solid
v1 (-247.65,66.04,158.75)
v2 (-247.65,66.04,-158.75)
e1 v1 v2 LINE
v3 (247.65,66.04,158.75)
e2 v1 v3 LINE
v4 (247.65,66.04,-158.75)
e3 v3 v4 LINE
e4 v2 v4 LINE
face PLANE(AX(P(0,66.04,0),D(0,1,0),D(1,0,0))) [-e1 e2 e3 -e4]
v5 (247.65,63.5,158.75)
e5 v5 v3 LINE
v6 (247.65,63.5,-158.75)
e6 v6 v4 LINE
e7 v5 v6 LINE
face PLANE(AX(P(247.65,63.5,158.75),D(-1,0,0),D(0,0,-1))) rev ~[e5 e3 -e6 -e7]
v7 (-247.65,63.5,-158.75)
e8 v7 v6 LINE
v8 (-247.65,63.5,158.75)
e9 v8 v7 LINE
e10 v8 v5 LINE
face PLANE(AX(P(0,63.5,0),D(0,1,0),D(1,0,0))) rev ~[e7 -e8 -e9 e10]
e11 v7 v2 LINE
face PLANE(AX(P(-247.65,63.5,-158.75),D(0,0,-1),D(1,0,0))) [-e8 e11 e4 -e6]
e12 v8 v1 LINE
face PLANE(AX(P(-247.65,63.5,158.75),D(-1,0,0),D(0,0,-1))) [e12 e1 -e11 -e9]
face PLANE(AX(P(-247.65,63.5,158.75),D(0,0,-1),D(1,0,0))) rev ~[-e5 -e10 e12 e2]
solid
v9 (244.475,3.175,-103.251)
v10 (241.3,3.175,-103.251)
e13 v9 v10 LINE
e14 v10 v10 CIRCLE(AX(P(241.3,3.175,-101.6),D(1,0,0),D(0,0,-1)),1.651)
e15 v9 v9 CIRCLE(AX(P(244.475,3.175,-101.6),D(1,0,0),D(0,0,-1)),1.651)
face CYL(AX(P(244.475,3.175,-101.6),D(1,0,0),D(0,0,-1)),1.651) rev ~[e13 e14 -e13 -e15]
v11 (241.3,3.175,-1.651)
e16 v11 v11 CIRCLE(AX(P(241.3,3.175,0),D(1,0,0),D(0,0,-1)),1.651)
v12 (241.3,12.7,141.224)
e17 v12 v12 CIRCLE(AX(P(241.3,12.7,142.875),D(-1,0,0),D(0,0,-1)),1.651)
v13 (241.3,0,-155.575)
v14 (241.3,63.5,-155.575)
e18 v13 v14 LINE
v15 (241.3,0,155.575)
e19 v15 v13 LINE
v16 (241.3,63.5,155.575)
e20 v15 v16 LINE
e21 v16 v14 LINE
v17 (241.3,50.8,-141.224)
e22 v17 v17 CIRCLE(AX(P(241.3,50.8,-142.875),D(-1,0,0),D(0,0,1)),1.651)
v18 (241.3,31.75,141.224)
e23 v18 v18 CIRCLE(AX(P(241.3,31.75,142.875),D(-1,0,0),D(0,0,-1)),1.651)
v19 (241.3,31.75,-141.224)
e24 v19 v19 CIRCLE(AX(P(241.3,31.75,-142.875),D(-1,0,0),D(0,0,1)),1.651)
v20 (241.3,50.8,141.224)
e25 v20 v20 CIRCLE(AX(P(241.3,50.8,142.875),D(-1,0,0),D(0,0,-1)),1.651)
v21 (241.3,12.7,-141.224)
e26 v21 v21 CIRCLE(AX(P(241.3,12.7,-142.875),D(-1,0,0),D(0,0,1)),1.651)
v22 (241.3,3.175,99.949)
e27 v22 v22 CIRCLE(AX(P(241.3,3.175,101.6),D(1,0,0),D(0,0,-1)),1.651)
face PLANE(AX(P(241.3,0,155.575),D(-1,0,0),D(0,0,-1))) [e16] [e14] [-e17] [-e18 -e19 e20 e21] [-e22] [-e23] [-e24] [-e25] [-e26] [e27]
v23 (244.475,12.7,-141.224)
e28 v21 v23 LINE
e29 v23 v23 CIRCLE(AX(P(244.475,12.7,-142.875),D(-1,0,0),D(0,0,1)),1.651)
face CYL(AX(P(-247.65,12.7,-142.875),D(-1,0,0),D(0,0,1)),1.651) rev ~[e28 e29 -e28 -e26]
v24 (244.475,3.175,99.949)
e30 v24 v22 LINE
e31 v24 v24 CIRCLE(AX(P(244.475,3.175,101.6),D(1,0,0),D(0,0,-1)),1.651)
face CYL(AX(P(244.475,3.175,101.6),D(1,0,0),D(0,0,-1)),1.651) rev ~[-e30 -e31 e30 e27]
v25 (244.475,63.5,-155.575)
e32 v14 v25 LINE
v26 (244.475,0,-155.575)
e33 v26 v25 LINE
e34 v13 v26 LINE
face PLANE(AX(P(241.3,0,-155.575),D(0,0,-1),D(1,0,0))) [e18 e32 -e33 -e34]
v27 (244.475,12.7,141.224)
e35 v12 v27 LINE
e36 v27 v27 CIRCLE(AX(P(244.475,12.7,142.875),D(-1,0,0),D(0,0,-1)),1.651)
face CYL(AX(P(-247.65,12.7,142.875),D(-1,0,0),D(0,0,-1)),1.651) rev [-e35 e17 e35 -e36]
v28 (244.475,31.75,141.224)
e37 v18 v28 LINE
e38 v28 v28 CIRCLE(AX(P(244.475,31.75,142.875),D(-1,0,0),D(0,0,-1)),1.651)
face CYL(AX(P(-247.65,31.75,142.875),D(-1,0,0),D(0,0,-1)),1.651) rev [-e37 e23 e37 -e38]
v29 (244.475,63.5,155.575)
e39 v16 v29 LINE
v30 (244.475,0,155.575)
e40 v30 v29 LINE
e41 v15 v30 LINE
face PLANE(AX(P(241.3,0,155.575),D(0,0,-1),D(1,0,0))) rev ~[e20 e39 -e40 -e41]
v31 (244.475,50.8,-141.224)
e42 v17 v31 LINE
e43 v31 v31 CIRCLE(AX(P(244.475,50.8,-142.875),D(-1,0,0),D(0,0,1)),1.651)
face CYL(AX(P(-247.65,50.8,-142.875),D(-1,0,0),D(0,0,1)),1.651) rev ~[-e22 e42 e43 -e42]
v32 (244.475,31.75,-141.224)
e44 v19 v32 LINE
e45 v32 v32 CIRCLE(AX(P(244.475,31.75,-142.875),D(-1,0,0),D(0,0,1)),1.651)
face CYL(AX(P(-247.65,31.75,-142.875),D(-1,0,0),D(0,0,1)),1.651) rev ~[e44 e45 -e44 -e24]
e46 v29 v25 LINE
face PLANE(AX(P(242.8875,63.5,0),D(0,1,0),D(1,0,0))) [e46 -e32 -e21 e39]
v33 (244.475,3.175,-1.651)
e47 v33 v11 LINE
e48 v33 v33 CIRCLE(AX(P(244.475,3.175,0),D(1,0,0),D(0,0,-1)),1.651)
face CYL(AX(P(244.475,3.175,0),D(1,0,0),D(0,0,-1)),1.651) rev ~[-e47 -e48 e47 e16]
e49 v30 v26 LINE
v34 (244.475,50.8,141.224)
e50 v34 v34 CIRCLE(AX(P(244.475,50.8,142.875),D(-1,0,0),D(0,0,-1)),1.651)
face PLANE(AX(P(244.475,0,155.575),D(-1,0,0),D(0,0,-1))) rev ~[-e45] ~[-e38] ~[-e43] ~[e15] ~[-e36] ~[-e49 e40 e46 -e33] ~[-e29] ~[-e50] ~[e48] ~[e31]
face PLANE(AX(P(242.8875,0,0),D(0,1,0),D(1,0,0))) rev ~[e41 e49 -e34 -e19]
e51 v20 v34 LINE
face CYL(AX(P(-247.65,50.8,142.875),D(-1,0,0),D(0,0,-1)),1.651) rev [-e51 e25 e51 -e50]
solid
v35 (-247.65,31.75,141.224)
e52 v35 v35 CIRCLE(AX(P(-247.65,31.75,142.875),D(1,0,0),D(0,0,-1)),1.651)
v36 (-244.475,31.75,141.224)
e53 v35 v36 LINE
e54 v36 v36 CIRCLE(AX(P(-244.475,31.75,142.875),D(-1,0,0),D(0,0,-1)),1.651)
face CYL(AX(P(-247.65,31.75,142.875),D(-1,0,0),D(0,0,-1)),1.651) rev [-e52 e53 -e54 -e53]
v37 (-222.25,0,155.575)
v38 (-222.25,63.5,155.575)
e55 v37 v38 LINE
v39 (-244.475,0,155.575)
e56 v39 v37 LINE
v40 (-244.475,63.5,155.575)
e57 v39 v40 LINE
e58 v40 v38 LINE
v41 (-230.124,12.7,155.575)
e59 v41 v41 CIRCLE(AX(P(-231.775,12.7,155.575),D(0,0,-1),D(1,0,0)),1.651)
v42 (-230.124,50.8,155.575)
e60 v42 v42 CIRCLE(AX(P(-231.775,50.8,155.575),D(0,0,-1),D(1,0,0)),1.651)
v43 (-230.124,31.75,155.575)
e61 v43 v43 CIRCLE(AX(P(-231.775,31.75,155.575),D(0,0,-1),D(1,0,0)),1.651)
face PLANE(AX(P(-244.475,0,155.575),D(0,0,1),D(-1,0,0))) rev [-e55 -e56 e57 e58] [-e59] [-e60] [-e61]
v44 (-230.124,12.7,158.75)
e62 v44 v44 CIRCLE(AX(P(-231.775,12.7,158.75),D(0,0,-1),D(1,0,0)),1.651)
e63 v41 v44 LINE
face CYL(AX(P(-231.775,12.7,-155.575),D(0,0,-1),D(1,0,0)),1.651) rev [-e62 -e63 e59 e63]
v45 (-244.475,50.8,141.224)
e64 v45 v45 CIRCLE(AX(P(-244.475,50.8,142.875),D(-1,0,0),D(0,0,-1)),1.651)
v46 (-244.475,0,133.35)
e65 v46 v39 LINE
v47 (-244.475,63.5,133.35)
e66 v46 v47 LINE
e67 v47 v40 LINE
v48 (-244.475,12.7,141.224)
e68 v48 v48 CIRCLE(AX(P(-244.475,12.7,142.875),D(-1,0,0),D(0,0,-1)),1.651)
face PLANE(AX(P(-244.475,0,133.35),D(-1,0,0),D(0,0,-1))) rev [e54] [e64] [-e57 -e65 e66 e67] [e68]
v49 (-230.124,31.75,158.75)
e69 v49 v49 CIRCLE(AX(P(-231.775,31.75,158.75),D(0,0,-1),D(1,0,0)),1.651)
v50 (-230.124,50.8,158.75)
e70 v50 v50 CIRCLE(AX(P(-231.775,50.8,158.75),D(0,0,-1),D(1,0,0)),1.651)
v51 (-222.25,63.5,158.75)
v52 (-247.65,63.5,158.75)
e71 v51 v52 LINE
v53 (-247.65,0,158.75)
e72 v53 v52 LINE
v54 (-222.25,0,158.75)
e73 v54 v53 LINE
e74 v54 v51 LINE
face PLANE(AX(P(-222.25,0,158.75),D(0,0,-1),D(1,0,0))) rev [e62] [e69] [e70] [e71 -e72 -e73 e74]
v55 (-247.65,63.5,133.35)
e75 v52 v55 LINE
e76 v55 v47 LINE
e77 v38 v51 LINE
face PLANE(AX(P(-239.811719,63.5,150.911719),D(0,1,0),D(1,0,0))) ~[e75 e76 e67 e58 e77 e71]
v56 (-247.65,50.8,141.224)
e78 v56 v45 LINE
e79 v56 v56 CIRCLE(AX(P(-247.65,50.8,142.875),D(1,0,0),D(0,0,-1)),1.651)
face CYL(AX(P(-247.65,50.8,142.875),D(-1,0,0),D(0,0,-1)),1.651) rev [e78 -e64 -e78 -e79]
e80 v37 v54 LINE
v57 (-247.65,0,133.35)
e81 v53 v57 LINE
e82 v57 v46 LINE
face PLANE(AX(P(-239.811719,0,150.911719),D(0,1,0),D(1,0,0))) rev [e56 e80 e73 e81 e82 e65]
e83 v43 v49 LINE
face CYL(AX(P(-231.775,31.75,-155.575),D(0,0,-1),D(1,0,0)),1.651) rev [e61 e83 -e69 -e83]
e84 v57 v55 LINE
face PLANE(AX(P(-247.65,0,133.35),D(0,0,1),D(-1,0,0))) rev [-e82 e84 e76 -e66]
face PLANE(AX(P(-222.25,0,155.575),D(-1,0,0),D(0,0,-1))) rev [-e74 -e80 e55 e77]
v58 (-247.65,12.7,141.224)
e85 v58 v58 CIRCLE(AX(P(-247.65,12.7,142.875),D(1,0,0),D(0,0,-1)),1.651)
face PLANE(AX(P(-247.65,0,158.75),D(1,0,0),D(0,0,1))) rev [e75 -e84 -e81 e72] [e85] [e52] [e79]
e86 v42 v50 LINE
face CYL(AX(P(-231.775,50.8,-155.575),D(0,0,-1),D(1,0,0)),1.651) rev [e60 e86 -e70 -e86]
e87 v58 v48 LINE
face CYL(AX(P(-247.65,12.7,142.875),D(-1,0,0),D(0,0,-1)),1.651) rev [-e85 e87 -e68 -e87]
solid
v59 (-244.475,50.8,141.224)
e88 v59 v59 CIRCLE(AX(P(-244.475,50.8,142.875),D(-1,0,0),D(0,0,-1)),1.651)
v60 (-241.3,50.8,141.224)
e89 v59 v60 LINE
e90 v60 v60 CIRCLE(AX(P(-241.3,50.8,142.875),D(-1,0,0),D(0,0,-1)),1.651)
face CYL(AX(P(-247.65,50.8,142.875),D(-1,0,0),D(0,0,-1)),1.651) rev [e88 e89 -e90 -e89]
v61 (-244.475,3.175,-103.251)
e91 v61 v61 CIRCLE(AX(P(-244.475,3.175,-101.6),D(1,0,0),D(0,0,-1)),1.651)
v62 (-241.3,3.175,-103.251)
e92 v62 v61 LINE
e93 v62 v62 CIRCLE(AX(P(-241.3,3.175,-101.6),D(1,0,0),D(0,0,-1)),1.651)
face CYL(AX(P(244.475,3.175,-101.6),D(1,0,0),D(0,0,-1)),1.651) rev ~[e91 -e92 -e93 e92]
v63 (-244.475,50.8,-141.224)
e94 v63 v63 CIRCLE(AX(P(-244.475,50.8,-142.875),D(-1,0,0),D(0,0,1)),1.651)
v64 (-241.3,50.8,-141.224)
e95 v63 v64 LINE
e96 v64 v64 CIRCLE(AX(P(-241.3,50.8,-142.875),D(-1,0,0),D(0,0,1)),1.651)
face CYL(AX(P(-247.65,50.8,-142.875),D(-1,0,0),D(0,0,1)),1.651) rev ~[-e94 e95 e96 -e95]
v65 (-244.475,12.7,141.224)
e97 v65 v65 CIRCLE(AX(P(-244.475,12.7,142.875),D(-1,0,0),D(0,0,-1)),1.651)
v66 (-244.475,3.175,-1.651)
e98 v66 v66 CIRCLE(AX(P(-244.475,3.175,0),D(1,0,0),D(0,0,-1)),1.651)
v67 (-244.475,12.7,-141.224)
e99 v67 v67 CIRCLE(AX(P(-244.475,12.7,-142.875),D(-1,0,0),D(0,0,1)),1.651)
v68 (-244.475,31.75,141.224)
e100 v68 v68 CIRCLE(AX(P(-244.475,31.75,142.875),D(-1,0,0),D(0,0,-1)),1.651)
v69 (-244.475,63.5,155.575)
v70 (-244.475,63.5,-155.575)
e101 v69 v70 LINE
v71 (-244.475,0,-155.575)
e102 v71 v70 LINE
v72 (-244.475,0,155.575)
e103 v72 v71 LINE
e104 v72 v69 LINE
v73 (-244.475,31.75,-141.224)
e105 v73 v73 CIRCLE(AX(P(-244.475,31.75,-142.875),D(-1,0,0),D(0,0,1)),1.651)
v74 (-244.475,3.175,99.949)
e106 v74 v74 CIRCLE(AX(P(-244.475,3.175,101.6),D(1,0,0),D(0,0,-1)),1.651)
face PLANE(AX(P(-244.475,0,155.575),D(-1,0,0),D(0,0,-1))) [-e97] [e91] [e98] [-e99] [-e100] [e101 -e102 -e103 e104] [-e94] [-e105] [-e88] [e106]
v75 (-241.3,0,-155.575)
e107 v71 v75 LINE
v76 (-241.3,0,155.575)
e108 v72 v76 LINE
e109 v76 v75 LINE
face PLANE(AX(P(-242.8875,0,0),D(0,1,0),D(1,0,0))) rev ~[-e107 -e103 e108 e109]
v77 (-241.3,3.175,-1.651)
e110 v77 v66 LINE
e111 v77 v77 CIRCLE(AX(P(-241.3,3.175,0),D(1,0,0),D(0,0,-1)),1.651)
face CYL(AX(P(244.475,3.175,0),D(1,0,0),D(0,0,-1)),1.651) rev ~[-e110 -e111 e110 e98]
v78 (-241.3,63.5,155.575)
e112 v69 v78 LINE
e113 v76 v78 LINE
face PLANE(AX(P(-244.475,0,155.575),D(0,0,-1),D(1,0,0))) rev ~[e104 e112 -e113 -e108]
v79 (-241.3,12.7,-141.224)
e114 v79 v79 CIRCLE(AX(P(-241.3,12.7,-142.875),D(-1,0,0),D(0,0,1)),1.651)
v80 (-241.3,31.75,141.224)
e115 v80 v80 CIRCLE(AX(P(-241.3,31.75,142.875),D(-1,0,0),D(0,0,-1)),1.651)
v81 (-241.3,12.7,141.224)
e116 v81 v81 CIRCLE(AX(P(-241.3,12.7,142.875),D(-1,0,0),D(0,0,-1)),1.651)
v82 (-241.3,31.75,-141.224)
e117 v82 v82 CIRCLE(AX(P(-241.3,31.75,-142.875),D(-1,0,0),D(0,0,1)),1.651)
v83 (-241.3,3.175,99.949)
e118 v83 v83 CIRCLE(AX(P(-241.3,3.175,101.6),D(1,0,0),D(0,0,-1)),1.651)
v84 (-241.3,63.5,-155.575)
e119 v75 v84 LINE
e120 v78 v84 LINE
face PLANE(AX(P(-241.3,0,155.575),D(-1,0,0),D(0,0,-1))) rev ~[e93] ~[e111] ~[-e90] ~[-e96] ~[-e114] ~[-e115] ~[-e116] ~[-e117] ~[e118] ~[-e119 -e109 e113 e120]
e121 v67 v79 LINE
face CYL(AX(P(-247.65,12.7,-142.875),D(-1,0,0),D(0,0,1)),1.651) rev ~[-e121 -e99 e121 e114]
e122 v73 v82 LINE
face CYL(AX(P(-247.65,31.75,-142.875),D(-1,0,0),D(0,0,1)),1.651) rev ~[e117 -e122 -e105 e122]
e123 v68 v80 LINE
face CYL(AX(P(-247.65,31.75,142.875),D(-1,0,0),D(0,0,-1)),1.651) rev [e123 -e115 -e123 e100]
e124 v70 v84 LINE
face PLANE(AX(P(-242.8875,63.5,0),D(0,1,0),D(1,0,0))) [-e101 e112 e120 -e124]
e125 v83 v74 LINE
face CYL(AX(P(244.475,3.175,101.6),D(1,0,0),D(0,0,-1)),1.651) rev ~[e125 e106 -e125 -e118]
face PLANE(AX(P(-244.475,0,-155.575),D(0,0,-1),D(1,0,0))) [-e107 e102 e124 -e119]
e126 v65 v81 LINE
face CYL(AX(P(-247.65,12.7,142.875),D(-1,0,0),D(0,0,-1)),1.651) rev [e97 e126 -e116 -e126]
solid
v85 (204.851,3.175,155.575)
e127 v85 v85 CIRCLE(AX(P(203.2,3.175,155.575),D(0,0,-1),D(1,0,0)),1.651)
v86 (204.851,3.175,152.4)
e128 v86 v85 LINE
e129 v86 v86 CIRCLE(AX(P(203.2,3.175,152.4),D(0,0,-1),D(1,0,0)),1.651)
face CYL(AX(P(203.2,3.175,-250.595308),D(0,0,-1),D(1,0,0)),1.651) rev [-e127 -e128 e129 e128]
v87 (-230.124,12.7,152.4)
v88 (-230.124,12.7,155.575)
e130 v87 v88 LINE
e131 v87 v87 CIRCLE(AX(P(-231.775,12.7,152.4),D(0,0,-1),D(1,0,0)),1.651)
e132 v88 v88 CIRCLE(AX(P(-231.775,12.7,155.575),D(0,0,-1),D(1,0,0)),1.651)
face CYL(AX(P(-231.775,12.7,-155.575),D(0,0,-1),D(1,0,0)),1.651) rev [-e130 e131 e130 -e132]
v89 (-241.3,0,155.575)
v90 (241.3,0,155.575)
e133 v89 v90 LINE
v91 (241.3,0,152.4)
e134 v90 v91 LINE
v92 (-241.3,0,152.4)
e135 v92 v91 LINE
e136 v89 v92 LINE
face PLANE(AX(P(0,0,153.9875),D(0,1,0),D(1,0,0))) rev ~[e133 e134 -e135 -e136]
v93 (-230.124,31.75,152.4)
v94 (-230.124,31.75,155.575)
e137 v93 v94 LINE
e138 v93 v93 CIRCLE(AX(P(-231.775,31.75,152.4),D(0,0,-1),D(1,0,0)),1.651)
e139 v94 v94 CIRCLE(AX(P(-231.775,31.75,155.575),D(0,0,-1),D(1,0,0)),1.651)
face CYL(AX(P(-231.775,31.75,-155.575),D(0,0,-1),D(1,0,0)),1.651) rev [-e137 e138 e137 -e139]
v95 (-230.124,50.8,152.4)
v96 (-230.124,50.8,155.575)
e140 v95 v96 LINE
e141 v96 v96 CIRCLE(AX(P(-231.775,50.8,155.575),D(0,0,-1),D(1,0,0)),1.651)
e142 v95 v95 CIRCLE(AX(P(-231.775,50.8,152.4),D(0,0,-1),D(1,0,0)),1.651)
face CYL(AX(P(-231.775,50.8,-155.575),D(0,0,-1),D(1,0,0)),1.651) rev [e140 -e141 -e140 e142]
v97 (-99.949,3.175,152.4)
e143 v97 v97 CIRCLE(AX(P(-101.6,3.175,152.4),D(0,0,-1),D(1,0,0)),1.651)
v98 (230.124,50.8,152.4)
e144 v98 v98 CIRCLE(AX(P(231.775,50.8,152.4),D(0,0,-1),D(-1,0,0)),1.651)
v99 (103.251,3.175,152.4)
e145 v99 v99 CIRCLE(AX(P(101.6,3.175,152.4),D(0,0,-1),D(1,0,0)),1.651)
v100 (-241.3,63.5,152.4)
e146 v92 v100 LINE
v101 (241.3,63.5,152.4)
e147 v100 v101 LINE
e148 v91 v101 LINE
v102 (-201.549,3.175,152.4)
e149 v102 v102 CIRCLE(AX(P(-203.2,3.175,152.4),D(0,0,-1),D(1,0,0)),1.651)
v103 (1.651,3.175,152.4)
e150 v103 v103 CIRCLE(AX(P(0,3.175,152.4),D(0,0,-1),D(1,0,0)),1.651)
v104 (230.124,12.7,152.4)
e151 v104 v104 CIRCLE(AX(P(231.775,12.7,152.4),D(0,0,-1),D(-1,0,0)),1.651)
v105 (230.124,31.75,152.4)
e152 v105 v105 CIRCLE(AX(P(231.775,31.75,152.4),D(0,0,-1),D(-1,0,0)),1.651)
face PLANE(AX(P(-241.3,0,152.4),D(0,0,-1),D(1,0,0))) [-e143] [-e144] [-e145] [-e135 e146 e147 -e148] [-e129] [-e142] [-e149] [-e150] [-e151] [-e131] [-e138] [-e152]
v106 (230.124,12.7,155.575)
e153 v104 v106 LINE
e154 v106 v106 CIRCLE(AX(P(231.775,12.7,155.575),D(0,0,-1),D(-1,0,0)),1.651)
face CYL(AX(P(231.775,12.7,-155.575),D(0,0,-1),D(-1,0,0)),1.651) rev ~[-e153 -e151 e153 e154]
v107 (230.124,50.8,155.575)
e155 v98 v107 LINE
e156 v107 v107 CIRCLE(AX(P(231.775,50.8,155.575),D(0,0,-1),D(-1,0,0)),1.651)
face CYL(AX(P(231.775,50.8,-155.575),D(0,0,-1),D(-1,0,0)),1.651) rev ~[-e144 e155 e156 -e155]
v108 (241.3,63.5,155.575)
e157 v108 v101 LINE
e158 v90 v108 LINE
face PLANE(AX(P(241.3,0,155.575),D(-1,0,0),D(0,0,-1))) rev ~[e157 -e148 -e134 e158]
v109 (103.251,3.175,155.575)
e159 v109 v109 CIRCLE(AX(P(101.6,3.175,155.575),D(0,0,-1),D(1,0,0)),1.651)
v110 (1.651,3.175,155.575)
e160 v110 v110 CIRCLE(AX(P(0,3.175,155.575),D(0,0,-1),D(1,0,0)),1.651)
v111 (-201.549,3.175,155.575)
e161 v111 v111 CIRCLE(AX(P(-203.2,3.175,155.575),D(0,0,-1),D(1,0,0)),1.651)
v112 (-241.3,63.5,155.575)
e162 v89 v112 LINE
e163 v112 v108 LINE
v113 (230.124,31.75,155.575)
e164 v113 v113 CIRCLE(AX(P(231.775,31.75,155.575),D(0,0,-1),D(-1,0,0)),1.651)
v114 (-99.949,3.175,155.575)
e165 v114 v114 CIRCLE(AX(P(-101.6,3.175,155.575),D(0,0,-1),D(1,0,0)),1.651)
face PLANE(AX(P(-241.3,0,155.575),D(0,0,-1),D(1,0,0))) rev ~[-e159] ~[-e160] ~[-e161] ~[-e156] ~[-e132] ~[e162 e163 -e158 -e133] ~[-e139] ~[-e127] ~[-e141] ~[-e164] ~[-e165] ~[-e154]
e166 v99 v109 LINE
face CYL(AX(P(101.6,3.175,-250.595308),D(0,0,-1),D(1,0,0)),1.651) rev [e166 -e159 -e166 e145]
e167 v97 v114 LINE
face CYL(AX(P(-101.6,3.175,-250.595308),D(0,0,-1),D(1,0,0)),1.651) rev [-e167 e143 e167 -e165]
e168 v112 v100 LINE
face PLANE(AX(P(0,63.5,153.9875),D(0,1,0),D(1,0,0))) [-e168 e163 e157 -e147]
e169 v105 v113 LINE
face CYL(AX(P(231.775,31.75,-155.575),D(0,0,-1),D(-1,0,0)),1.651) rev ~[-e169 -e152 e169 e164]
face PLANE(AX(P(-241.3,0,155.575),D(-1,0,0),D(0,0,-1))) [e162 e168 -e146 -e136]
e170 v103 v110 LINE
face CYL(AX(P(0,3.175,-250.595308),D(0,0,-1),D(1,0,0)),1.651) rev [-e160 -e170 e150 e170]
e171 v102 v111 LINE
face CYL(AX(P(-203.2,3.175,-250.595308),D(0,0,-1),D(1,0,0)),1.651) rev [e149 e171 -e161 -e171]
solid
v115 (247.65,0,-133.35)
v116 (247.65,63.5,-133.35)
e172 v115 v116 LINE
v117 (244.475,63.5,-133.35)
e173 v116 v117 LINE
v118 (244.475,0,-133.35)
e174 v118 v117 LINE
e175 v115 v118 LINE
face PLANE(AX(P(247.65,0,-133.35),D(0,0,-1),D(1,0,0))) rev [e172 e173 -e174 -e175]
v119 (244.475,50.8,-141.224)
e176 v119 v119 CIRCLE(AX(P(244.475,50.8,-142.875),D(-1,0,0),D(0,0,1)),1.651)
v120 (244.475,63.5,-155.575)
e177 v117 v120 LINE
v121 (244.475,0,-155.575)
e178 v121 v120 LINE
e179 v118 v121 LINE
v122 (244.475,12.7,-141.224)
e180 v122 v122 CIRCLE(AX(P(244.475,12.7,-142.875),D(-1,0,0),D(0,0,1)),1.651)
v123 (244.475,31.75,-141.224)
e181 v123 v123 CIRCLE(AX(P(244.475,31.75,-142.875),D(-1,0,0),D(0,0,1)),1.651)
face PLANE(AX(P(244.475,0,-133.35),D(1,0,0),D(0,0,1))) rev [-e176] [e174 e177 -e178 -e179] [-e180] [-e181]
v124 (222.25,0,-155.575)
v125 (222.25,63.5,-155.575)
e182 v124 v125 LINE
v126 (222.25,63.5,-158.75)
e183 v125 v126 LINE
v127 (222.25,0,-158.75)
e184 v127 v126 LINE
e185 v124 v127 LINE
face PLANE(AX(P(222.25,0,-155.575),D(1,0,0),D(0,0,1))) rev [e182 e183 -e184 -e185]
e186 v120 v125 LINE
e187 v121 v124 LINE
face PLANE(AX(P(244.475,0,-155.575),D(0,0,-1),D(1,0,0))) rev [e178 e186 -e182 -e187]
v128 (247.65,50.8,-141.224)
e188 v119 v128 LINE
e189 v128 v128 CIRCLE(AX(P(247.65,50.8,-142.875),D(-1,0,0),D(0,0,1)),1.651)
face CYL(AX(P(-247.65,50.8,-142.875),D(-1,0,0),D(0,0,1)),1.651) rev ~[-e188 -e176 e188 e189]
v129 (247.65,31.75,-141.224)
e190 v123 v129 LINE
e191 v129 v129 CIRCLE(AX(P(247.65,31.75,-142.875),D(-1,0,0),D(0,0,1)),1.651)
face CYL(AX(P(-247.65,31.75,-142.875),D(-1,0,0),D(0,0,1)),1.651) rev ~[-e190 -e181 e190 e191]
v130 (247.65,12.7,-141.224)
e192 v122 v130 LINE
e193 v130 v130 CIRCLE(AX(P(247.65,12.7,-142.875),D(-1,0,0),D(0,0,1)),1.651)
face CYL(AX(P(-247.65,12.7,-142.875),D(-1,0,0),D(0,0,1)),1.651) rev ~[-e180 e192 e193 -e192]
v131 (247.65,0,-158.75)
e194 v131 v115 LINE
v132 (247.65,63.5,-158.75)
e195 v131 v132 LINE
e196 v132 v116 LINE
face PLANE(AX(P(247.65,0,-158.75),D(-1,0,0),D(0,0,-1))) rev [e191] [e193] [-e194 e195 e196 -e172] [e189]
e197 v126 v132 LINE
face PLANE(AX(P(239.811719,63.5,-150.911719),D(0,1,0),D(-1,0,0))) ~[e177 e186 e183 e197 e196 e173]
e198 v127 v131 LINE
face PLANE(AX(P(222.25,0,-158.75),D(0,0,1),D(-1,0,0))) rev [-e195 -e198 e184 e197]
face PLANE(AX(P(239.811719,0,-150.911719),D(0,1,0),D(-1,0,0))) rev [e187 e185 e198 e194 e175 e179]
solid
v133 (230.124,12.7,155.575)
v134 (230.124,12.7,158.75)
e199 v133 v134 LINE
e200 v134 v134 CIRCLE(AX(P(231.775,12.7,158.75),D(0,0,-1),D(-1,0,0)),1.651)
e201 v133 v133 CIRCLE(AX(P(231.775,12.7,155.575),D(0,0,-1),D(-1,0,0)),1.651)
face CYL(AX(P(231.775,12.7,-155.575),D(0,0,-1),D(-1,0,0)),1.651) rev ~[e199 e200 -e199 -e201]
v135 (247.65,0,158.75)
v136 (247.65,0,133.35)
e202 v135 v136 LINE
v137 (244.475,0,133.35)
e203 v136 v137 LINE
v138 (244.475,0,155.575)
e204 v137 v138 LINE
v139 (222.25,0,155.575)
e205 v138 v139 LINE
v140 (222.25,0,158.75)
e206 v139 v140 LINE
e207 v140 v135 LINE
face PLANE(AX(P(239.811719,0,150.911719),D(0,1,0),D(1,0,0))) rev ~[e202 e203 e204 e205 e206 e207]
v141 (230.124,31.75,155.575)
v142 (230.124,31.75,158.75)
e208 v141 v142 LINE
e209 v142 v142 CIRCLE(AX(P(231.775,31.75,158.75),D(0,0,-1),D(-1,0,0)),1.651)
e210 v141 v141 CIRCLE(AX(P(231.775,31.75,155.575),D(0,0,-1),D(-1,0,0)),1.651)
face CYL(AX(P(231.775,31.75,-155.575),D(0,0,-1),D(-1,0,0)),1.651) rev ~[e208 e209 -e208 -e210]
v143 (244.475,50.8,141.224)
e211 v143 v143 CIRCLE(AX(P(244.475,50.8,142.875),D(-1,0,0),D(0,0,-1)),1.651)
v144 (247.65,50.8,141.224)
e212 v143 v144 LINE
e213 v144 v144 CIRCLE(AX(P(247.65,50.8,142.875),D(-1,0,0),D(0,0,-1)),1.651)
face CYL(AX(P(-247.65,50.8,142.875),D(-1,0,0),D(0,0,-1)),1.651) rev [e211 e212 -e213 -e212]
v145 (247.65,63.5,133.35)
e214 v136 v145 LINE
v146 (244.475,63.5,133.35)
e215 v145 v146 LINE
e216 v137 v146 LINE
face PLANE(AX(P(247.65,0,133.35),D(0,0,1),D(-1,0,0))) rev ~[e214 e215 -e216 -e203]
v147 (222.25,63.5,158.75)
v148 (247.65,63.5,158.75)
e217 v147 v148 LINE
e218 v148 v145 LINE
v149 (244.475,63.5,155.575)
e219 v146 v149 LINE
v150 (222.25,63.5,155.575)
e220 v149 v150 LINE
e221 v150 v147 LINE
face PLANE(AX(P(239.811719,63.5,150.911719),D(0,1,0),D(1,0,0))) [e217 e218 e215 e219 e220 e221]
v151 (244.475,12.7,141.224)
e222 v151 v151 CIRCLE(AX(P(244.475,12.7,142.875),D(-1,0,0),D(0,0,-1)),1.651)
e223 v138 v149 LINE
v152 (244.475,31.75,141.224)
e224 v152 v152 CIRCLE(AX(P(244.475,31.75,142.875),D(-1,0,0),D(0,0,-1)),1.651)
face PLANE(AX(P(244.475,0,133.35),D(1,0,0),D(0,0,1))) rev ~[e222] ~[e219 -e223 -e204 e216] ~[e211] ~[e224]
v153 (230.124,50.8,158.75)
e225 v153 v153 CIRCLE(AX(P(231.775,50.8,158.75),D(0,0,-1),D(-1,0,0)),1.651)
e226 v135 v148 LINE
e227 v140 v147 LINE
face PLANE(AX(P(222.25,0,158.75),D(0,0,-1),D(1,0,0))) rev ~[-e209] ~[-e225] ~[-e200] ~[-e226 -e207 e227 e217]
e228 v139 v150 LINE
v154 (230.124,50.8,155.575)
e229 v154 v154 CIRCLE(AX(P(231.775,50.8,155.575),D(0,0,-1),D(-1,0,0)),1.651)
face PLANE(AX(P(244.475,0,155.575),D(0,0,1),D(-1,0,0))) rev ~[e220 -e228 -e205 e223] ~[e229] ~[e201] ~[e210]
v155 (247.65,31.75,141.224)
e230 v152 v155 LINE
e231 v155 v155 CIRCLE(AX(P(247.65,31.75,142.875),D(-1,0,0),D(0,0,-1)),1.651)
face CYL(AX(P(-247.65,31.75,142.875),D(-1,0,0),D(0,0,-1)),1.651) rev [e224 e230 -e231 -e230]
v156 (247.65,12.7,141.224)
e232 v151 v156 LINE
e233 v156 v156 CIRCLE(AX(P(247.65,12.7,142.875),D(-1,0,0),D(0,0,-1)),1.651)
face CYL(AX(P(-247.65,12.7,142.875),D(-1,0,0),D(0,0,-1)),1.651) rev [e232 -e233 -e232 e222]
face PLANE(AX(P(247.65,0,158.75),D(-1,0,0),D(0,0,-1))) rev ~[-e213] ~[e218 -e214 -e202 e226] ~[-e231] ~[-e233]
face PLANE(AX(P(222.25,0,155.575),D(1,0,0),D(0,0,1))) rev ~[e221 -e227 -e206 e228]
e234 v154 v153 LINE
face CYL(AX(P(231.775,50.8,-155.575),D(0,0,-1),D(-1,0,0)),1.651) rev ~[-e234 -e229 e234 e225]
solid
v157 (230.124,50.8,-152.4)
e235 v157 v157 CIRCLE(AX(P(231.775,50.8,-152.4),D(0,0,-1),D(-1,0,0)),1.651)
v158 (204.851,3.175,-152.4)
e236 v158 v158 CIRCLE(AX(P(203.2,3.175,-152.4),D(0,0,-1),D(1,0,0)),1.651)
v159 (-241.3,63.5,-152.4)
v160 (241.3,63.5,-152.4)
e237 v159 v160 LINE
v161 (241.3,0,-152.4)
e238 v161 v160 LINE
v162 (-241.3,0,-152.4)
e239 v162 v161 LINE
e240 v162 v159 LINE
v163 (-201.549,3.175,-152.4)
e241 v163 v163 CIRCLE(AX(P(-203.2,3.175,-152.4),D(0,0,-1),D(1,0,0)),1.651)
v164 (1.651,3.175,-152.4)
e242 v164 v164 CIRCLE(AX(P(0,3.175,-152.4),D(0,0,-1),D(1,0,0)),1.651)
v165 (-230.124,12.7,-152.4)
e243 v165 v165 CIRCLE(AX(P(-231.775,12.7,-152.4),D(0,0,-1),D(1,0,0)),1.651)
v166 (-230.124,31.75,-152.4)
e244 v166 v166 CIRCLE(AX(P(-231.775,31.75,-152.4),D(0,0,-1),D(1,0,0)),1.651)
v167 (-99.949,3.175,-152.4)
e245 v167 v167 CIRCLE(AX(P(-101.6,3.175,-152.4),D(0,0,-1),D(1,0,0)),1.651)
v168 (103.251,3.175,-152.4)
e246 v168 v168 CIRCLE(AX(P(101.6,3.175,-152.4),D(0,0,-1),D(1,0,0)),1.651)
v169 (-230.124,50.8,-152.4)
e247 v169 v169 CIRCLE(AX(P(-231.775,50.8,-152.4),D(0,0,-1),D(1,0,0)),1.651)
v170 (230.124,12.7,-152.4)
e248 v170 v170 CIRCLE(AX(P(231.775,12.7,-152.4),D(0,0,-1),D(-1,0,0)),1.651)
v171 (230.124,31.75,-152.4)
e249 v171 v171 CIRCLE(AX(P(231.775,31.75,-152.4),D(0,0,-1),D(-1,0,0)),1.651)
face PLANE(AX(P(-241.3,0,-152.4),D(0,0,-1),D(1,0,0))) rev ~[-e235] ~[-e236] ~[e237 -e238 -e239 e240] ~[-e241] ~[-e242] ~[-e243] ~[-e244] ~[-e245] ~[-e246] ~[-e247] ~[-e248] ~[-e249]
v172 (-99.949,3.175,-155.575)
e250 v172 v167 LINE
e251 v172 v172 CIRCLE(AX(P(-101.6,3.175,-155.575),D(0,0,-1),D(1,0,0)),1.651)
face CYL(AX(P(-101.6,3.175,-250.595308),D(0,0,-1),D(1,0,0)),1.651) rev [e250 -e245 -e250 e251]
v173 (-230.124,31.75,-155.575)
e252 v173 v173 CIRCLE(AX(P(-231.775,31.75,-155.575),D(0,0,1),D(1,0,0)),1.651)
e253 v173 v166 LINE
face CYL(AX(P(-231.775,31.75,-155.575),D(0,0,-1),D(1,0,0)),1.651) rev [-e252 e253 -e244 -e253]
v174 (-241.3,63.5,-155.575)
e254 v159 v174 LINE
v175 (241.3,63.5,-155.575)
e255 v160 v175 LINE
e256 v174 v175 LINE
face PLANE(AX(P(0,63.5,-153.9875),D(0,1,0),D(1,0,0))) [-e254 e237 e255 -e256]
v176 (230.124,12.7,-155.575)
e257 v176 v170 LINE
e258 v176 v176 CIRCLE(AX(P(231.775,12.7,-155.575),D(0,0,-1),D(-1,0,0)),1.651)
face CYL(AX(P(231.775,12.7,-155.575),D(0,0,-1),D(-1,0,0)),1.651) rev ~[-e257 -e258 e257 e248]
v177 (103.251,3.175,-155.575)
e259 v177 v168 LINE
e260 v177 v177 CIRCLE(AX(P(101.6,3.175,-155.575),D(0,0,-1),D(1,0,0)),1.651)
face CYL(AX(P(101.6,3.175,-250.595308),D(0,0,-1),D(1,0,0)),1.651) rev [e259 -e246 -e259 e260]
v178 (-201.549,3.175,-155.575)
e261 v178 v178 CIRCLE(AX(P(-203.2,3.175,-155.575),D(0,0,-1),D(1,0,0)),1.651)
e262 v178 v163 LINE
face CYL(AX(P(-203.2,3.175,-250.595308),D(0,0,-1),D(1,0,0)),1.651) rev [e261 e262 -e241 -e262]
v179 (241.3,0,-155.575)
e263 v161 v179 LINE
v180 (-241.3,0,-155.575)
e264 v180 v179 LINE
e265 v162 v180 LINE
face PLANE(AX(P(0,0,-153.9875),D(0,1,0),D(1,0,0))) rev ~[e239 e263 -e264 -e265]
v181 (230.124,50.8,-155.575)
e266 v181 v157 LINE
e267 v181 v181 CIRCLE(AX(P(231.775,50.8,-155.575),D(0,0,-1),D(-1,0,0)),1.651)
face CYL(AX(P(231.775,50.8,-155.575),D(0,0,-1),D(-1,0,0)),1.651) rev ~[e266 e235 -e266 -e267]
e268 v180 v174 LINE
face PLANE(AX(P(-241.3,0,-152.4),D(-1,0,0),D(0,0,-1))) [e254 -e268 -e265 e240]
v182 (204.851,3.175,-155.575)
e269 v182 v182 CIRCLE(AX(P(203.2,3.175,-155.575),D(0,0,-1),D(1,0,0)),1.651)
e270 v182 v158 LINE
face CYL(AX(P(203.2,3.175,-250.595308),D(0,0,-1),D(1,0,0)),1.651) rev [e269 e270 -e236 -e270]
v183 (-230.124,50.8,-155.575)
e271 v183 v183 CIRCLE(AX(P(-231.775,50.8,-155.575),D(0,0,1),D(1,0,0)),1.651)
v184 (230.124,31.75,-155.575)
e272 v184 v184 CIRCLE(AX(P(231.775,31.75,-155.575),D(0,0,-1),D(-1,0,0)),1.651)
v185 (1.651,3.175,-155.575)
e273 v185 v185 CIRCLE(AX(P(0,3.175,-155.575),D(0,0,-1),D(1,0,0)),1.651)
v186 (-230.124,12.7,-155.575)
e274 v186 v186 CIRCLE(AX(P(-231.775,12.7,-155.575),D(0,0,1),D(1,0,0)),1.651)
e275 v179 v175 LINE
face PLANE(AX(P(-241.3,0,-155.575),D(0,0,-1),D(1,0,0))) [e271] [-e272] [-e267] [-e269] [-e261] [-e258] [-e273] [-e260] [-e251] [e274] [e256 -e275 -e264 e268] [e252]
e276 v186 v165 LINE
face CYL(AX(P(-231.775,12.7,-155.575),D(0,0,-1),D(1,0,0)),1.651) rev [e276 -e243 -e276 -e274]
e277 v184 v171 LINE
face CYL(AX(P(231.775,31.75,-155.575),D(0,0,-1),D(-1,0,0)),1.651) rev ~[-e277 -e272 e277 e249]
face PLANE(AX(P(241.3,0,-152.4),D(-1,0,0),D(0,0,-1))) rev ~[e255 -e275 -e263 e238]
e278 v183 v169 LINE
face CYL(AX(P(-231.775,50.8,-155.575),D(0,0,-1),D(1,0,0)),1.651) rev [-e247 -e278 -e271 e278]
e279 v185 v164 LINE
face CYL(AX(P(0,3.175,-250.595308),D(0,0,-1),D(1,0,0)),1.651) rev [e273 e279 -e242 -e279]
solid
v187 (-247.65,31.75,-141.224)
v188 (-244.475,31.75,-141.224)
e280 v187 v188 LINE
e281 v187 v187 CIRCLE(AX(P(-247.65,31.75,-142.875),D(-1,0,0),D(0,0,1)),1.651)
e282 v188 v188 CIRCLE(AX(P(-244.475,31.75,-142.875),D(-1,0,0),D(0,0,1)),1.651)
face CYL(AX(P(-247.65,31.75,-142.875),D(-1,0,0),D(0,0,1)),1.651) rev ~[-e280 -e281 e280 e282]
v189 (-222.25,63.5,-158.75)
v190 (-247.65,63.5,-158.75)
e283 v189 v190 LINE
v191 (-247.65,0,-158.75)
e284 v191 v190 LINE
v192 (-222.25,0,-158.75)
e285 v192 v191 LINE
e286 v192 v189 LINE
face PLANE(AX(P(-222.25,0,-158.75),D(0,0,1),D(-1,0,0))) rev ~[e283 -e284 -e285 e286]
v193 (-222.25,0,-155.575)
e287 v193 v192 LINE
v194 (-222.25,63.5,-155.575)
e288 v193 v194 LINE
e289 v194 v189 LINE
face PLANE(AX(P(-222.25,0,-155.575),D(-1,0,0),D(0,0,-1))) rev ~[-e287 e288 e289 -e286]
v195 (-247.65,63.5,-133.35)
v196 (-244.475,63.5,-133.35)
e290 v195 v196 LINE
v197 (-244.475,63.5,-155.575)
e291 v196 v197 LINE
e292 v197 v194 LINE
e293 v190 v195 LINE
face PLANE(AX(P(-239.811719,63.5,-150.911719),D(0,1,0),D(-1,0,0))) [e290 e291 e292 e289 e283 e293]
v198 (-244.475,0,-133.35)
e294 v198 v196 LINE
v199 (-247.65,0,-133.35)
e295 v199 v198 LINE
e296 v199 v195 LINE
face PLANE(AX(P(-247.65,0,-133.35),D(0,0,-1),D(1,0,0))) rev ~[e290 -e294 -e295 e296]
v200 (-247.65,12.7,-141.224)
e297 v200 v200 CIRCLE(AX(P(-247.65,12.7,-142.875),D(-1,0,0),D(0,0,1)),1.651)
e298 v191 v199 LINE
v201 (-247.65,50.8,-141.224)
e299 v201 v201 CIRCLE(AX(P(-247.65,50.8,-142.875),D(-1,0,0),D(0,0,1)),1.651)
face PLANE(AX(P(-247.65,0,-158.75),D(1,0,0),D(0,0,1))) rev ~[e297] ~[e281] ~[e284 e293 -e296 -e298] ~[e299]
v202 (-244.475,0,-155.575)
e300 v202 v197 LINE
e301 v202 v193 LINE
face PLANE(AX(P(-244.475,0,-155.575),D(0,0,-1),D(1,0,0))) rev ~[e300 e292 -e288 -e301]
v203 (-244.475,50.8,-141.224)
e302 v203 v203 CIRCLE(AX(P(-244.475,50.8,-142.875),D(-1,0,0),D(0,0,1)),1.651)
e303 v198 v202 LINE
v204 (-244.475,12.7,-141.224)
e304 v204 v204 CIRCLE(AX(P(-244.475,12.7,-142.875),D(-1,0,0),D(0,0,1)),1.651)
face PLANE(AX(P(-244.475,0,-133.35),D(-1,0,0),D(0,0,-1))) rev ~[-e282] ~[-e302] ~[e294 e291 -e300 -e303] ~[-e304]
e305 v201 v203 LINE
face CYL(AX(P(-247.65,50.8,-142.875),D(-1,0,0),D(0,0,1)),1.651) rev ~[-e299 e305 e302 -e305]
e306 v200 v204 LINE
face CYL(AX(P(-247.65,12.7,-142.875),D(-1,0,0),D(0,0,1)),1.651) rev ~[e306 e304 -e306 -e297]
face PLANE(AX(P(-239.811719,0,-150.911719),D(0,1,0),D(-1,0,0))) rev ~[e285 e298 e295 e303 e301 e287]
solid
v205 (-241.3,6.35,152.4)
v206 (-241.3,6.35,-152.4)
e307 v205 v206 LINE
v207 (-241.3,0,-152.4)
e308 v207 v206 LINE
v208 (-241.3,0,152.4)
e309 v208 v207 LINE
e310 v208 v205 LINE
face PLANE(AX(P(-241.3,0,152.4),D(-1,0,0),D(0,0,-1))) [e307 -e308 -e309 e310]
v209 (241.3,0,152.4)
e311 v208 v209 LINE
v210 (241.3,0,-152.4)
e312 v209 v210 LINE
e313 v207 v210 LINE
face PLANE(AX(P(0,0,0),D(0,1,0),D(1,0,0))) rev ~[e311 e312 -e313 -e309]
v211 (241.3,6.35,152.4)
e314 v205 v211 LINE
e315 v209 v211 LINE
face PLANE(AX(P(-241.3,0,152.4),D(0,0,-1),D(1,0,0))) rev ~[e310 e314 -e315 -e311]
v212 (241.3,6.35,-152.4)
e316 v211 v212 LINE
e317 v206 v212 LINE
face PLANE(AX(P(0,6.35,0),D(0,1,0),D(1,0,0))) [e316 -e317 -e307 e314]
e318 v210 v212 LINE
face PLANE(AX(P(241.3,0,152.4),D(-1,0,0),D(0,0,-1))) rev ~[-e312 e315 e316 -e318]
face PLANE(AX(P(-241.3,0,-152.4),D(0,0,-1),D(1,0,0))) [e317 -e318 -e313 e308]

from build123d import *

# Parameters (mm, degrees)
SKETCH1_W                  = 482.6
SKETCH1_H                  = 304.8
BOSS_EXTRUDE1_DEPTH        = 6.35
BOSS_EXTRUDE2_DEPTH        = 57.15
BOSS_EXTRUDE2_DEPTH_BACK   = 6.35
SKETCH2_W                  = 482.6
SKETCH2_H                  = 3.175
BOSS_EXTRUDE2_2_DEPTH      = 57.15
BOSS_EXTRUDE2_2_DEPTH_BACK = 6.35
BOSS_EXTRUDE3_START        = -6.35
SKETCH3_W                  = 3.175
SKETCH3_H                  = 311.15
BOSS_EXTRUDE3_DEPTH        = 63.5
BOSS_EXTRUDE3_2_DEPTH      = 63.5
BOSS_EXTRUDE4_DEPTH        = 63.5
SKETCH5_R                  = 1.651
CUT_EXTRUDE1_DEPTH         = 406.170307556
SKETCH6_R                  = 1.651
CUT_EXTRUDE2_DEPTH         = 524.980822645
CUT_EXTRUDE3_DEPTH         = 406.170307556
CUT_EXTRUDE3_DEPTH_BACK    = 406.170307556
SKETCH7_R                  = 1.651
SKETCH8_R                  = 1.651
CUT_EXTRUDE4_DEPTH         = 521.980640835
SKETCH9_W                  = 495.3
SKETCH9_H                  = 317.5
BOSS_EXTRUDE5_DEPTH        = 2.54


with BuildPart() as part:
    # Sketch1 → Boss-Extrude1 (new body)
    with BuildSketch(Plane(origin=(0, 0, 0), x_dir=(1, 0, 0), z_dir=(0, 1, 0))):
        Rectangle(SKETCH1_W, SKETCH1_H)
    extrude(amount=BOSS_EXTRUDE1_DEPTH)


with BuildPart() as body_2:
    # Sketch2 → Boss-Extrude2 (new, two sides: drawn at the far end of the back side and taken through both)
    with BuildSketch(Plane(origin=(0, 6.35, 0), x_dir=(1, 0, 0), z_dir=(0, 1, 0)).offset(-BOSS_EXTRUDE2_DEPTH_BACK)):
        with Locations((0, 153.9875)):
            Rectangle(SKETCH2_W, SKETCH2_H)
    extrude(amount=BOSS_EXTRUDE2_DEPTH + BOSS_EXTRUDE2_DEPTH_BACK)


with BuildPart() as body_3:
    # Sketch2 → Boss-Extrude2 2 (new, two sides: drawn at the far end of the back side and taken through both)
    with BuildSketch(Plane(origin=(0, 6.35, 0), x_dir=(1, 0, 0), z_dir=(0, 1, 0)).offset(-BOSS_EXTRUDE2_2_DEPTH_BACK)):
        with Locations((0, -153.9875)):
            Rectangle(SKETCH2_W, SKETCH2_H)
    extrude(amount=BOSS_EXTRUDE2_2_DEPTH + BOSS_EXTRUDE2_2_DEPTH_BACK)


with BuildPart() as body_4:
    # Sketch3 → Boss-Extrude3 (new body)
    with BuildSketch(Plane(origin=(0, 6.35, 0), x_dir=(1, 0, 0), z_dir=(0, 1, 0)).offset(BOSS_EXTRUDE3_START)):
        with Locations((-242.8875, 0)):
            Rectangle(SKETCH3_W, SKETCH3_H)
    extrude(amount=BOSS_EXTRUDE3_DEPTH)


with BuildPart() as body_5:
    # Sketch3 → Boss-Extrude3 2 (new body)
    with BuildSketch(Plane(origin=(0, 6.35, 0), x_dir=(1, 0, 0), z_dir=(0, 1, 0)).offset(BOSS_EXTRUDE3_START)):
        with Locations((242.8875, 0)):
            Rectangle(SKETCH3_W, SKETCH3_H)
    extrude(amount=BOSS_EXTRUDE3_2_DEPTH)


with BuildPart() as body_6:
    # Sketch4 → Boss-Extrude4 (new body)
    with BuildSketch(Plane.XZ):
        Polygon((-244.475, -155.575), (-222.25, -155.575), (-222.25, -158.75), (-247.65, -158.75), (-247.65, -133.35), (-244.475, -133.35), align=None)
    extrude(amount=-BOSS_EXTRUDE4_DEPTH)


with BuildPart() as body_7:
    # Mirror1: mirrored copy
    add(body_6.part.mirror(Plane(origin=(0, 0, 0), x_dir=(0, 0, 1), z_dir=(1, 0, 0))))


with BuildPart() as body_8:
    # Mirror2: mirrored copy
    add(body_6.part.mirror(Plane.XY))


with BuildPart() as body_9:
    # Mirror2 2: mirrored copy
    add(body_7.part.mirror(Plane.XY))


with BuildPart() as cut_extrude1_tool:
    # Sketch5 → Cut-Extrude1 (new, through all)
    with BuildSketch(Plane(origin=(0, 0, -155.575), x_dir=(-1, 0, 0), z_dir=(0, 0, -1))):
        with Locations((-231.775, 50.8)):
            Circle(SKETCH5_R)
        with Locations((-231.775, 31.75)):
            Circle(SKETCH5_R)
        with Locations((-231.775, 12.7)):
            Circle(SKETCH5_R)
    cut_extrude1 = extrude(amount=-CUT_EXTRUDE1_DEPTH)


with BuildPart() as body_2_1:
    add(body_2.part)

    # Cut-Extrude1: cut by cut_extrude1_tool
    add(cut_extrude1_tool.part, mode=Mode.SUBTRACT)


with BuildPart() as body_3_1:
    add(body_3.part)

    # Cut-Extrude1: cut by cut_extrude1_tool
    add(cut_extrude1_tool.part, mode=Mode.SUBTRACT)


with BuildPart() as body_9_1:
    add(body_9.part)

    # Cut-Extrude1: cut by cut_extrude1_tool
    add(cut_extrude1_tool.part, mode=Mode.SUBTRACT)


with BuildPart() as mirror3_tool:
    # Mirror3: Cut-Extrude1 across plane
    add(cut_extrude1.mirror(Plane(origin=(0, 0, 0), x_dir=(0, 0, 1), z_dir=(1, 0, 0))))


with BuildPart() as body_2_2:
    add(body_2_1.part)

    # Mirror3: cut by mirror3_tool
    add(mirror3_tool.part, mode=Mode.SUBTRACT)


with BuildPart() as body_3_2:
    add(body_3_1.part)

    # Mirror3: cut by mirror3_tool
    add(mirror3_tool.part, mode=Mode.SUBTRACT)


with BuildPart() as body_8_1:
    add(body_8.part)

    # Mirror3: cut by mirror3_tool
    add(mirror3_tool.part, mode=Mode.SUBTRACT)


with BuildPart() as cut_extrude2_tool:
    # Sketch6 → Cut-Extrude2 (new, through all)
    with BuildSketch(Plane.ZY.offset(247.65)):
        with Locations((-142.875, 50.8)):
            Circle(SKETCH6_R)
        with Locations((-142.875, 31.75)):
            Circle(SKETCH6_R)
        with Locations((-142.875, 12.7)):
            Circle(SKETCH6_R)
    cut_extrude2 = extrude(amount=-CUT_EXTRUDE2_DEPTH)


with BuildPart() as body_4_1:
    add(body_4.part)

    # Cut-Extrude2: cut by cut_extrude2_tool
    add(cut_extrude2_tool.part, mode=Mode.SUBTRACT)


with BuildPart() as body_5_1:
    add(body_5.part)

    # Cut-Extrude2: cut by cut_extrude2_tool
    add(cut_extrude2_tool.part, mode=Mode.SUBTRACT)


with BuildPart() as body_6_1:
    add(body_6.part)

    # Cut-Extrude2: cut by cut_extrude2_tool
    add(cut_extrude2_tool.part, mode=Mode.SUBTRACT)


with BuildPart() as body_7_1:
    add(body_7.part)

    # Cut-Extrude2: cut by cut_extrude2_tool
    add(cut_extrude2_tool.part, mode=Mode.SUBTRACT)


with BuildPart() as mirror4_tool:
    # Mirror4: Cut-Extrude2 across plane
    add(cut_extrude2.mirror(Plane.XY))


with BuildPart() as body_4_2:
    add(body_4_1.part)

    # Mirror4: cut by mirror4_tool
    add(mirror4_tool.part, mode=Mode.SUBTRACT)


with BuildPart() as body_5_2:
    add(body_5_1.part)

    # Mirror4: cut by mirror4_tool
    add(mirror4_tool.part, mode=Mode.SUBTRACT)


with BuildPart() as body_8_2:
    add(body_8_1.part)

    # Mirror4: cut by mirror4_tool
    add(mirror4_tool.part, mode=Mode.SUBTRACT)


with BuildPart() as body_9_2:
    add(body_9_1.part)

    # Mirror4: cut by mirror4_tool
    add(mirror4_tool.part, mode=Mode.SUBTRACT)


with BuildPart() as cut_extrude3_tool:
    # Sketch7 → Cut-Extrude3 (new, two sides: drawn at the far end of the back side and taken through both)
    with BuildSketch(Plane.XY.offset(155.575).offset(-CUT_EXTRUDE3_DEPTH_BACK)):
        with Locations((-203.2, 3.175)):
            Circle(SKETCH7_R)
        with Locations((0, 3.175)):
            Circle(SKETCH7_R)
        with Locations((203.2, 3.175)):
            Circle(SKETCH7_R)
        with Locations((101.6, 3.175)):
            Circle(SKETCH7_R)
        with Locations((-101.6, 3.175)):
            Circle(SKETCH7_R)
    extrude(amount=CUT_EXTRUDE3_DEPTH + CUT_EXTRUDE3_DEPTH_BACK)


with BuildPart() as body_3_3:
    add(body_3_2.part)

    # Cut-Extrude3: cut by cut_extrude3_tool
    add(cut_extrude3_tool.part, mode=Mode.SUBTRACT)


with BuildPart() as body_2_3:
    add(body_2_2.part)

    # Cut-Extrude3: cut by cut_extrude3_tool
    add(cut_extrude3_tool.part, mode=Mode.SUBTRACT)


with BuildPart() as cut_extrude4_tool:
    # Sketch8 → Cut-Extrude4 (new, through all)
    with BuildSketch(Plane(origin=(244.475, 0, 0), x_dir=(0, 0, -1), z_dir=(1, 0, 0))):
        with Locations((0, 3.175)):
            Circle(SKETCH8_R)
        with Locations((101.6, 3.175)):
            Circle(SKETCH8_R)
        with Locations((-101.6, 3.175)):
            Circle(SKETCH8_R)
    extrude(amount=-CUT_EXTRUDE4_DEPTH)


with BuildPart() as body_5_3:
    add(body_5_2.part)

    # Cut-Extrude4: cut by cut_extrude4_tool
    add(cut_extrude4_tool.part, mode=Mode.SUBTRACT)


with BuildPart() as body_4_3:
    add(body_4_2.part)

    # Cut-Extrude4: cut by cut_extrude4_tool
    add(cut_extrude4_tool.part, mode=Mode.SUBTRACT)


with BuildPart() as body_10:
    # Sketch9 → Boss-Extrude5 (new body)
    with BuildSketch(Plane(origin=(0, 63.5, 0), x_dir=(1, 0, 0), z_dir=(0, 1, 0))):
        Rectangle(SKETCH9_W, SKETCH9_H)
    extrude(amount=BOSS_EXTRUDE5_DEPTH)


solid = Compound([part.part, body_6_1.part, body_7_1.part, body_8_2.part, body_9_2.part, body_3_3.part, body_2_3.part, body_5_3.part, body_4_3.part, body_10.part])
